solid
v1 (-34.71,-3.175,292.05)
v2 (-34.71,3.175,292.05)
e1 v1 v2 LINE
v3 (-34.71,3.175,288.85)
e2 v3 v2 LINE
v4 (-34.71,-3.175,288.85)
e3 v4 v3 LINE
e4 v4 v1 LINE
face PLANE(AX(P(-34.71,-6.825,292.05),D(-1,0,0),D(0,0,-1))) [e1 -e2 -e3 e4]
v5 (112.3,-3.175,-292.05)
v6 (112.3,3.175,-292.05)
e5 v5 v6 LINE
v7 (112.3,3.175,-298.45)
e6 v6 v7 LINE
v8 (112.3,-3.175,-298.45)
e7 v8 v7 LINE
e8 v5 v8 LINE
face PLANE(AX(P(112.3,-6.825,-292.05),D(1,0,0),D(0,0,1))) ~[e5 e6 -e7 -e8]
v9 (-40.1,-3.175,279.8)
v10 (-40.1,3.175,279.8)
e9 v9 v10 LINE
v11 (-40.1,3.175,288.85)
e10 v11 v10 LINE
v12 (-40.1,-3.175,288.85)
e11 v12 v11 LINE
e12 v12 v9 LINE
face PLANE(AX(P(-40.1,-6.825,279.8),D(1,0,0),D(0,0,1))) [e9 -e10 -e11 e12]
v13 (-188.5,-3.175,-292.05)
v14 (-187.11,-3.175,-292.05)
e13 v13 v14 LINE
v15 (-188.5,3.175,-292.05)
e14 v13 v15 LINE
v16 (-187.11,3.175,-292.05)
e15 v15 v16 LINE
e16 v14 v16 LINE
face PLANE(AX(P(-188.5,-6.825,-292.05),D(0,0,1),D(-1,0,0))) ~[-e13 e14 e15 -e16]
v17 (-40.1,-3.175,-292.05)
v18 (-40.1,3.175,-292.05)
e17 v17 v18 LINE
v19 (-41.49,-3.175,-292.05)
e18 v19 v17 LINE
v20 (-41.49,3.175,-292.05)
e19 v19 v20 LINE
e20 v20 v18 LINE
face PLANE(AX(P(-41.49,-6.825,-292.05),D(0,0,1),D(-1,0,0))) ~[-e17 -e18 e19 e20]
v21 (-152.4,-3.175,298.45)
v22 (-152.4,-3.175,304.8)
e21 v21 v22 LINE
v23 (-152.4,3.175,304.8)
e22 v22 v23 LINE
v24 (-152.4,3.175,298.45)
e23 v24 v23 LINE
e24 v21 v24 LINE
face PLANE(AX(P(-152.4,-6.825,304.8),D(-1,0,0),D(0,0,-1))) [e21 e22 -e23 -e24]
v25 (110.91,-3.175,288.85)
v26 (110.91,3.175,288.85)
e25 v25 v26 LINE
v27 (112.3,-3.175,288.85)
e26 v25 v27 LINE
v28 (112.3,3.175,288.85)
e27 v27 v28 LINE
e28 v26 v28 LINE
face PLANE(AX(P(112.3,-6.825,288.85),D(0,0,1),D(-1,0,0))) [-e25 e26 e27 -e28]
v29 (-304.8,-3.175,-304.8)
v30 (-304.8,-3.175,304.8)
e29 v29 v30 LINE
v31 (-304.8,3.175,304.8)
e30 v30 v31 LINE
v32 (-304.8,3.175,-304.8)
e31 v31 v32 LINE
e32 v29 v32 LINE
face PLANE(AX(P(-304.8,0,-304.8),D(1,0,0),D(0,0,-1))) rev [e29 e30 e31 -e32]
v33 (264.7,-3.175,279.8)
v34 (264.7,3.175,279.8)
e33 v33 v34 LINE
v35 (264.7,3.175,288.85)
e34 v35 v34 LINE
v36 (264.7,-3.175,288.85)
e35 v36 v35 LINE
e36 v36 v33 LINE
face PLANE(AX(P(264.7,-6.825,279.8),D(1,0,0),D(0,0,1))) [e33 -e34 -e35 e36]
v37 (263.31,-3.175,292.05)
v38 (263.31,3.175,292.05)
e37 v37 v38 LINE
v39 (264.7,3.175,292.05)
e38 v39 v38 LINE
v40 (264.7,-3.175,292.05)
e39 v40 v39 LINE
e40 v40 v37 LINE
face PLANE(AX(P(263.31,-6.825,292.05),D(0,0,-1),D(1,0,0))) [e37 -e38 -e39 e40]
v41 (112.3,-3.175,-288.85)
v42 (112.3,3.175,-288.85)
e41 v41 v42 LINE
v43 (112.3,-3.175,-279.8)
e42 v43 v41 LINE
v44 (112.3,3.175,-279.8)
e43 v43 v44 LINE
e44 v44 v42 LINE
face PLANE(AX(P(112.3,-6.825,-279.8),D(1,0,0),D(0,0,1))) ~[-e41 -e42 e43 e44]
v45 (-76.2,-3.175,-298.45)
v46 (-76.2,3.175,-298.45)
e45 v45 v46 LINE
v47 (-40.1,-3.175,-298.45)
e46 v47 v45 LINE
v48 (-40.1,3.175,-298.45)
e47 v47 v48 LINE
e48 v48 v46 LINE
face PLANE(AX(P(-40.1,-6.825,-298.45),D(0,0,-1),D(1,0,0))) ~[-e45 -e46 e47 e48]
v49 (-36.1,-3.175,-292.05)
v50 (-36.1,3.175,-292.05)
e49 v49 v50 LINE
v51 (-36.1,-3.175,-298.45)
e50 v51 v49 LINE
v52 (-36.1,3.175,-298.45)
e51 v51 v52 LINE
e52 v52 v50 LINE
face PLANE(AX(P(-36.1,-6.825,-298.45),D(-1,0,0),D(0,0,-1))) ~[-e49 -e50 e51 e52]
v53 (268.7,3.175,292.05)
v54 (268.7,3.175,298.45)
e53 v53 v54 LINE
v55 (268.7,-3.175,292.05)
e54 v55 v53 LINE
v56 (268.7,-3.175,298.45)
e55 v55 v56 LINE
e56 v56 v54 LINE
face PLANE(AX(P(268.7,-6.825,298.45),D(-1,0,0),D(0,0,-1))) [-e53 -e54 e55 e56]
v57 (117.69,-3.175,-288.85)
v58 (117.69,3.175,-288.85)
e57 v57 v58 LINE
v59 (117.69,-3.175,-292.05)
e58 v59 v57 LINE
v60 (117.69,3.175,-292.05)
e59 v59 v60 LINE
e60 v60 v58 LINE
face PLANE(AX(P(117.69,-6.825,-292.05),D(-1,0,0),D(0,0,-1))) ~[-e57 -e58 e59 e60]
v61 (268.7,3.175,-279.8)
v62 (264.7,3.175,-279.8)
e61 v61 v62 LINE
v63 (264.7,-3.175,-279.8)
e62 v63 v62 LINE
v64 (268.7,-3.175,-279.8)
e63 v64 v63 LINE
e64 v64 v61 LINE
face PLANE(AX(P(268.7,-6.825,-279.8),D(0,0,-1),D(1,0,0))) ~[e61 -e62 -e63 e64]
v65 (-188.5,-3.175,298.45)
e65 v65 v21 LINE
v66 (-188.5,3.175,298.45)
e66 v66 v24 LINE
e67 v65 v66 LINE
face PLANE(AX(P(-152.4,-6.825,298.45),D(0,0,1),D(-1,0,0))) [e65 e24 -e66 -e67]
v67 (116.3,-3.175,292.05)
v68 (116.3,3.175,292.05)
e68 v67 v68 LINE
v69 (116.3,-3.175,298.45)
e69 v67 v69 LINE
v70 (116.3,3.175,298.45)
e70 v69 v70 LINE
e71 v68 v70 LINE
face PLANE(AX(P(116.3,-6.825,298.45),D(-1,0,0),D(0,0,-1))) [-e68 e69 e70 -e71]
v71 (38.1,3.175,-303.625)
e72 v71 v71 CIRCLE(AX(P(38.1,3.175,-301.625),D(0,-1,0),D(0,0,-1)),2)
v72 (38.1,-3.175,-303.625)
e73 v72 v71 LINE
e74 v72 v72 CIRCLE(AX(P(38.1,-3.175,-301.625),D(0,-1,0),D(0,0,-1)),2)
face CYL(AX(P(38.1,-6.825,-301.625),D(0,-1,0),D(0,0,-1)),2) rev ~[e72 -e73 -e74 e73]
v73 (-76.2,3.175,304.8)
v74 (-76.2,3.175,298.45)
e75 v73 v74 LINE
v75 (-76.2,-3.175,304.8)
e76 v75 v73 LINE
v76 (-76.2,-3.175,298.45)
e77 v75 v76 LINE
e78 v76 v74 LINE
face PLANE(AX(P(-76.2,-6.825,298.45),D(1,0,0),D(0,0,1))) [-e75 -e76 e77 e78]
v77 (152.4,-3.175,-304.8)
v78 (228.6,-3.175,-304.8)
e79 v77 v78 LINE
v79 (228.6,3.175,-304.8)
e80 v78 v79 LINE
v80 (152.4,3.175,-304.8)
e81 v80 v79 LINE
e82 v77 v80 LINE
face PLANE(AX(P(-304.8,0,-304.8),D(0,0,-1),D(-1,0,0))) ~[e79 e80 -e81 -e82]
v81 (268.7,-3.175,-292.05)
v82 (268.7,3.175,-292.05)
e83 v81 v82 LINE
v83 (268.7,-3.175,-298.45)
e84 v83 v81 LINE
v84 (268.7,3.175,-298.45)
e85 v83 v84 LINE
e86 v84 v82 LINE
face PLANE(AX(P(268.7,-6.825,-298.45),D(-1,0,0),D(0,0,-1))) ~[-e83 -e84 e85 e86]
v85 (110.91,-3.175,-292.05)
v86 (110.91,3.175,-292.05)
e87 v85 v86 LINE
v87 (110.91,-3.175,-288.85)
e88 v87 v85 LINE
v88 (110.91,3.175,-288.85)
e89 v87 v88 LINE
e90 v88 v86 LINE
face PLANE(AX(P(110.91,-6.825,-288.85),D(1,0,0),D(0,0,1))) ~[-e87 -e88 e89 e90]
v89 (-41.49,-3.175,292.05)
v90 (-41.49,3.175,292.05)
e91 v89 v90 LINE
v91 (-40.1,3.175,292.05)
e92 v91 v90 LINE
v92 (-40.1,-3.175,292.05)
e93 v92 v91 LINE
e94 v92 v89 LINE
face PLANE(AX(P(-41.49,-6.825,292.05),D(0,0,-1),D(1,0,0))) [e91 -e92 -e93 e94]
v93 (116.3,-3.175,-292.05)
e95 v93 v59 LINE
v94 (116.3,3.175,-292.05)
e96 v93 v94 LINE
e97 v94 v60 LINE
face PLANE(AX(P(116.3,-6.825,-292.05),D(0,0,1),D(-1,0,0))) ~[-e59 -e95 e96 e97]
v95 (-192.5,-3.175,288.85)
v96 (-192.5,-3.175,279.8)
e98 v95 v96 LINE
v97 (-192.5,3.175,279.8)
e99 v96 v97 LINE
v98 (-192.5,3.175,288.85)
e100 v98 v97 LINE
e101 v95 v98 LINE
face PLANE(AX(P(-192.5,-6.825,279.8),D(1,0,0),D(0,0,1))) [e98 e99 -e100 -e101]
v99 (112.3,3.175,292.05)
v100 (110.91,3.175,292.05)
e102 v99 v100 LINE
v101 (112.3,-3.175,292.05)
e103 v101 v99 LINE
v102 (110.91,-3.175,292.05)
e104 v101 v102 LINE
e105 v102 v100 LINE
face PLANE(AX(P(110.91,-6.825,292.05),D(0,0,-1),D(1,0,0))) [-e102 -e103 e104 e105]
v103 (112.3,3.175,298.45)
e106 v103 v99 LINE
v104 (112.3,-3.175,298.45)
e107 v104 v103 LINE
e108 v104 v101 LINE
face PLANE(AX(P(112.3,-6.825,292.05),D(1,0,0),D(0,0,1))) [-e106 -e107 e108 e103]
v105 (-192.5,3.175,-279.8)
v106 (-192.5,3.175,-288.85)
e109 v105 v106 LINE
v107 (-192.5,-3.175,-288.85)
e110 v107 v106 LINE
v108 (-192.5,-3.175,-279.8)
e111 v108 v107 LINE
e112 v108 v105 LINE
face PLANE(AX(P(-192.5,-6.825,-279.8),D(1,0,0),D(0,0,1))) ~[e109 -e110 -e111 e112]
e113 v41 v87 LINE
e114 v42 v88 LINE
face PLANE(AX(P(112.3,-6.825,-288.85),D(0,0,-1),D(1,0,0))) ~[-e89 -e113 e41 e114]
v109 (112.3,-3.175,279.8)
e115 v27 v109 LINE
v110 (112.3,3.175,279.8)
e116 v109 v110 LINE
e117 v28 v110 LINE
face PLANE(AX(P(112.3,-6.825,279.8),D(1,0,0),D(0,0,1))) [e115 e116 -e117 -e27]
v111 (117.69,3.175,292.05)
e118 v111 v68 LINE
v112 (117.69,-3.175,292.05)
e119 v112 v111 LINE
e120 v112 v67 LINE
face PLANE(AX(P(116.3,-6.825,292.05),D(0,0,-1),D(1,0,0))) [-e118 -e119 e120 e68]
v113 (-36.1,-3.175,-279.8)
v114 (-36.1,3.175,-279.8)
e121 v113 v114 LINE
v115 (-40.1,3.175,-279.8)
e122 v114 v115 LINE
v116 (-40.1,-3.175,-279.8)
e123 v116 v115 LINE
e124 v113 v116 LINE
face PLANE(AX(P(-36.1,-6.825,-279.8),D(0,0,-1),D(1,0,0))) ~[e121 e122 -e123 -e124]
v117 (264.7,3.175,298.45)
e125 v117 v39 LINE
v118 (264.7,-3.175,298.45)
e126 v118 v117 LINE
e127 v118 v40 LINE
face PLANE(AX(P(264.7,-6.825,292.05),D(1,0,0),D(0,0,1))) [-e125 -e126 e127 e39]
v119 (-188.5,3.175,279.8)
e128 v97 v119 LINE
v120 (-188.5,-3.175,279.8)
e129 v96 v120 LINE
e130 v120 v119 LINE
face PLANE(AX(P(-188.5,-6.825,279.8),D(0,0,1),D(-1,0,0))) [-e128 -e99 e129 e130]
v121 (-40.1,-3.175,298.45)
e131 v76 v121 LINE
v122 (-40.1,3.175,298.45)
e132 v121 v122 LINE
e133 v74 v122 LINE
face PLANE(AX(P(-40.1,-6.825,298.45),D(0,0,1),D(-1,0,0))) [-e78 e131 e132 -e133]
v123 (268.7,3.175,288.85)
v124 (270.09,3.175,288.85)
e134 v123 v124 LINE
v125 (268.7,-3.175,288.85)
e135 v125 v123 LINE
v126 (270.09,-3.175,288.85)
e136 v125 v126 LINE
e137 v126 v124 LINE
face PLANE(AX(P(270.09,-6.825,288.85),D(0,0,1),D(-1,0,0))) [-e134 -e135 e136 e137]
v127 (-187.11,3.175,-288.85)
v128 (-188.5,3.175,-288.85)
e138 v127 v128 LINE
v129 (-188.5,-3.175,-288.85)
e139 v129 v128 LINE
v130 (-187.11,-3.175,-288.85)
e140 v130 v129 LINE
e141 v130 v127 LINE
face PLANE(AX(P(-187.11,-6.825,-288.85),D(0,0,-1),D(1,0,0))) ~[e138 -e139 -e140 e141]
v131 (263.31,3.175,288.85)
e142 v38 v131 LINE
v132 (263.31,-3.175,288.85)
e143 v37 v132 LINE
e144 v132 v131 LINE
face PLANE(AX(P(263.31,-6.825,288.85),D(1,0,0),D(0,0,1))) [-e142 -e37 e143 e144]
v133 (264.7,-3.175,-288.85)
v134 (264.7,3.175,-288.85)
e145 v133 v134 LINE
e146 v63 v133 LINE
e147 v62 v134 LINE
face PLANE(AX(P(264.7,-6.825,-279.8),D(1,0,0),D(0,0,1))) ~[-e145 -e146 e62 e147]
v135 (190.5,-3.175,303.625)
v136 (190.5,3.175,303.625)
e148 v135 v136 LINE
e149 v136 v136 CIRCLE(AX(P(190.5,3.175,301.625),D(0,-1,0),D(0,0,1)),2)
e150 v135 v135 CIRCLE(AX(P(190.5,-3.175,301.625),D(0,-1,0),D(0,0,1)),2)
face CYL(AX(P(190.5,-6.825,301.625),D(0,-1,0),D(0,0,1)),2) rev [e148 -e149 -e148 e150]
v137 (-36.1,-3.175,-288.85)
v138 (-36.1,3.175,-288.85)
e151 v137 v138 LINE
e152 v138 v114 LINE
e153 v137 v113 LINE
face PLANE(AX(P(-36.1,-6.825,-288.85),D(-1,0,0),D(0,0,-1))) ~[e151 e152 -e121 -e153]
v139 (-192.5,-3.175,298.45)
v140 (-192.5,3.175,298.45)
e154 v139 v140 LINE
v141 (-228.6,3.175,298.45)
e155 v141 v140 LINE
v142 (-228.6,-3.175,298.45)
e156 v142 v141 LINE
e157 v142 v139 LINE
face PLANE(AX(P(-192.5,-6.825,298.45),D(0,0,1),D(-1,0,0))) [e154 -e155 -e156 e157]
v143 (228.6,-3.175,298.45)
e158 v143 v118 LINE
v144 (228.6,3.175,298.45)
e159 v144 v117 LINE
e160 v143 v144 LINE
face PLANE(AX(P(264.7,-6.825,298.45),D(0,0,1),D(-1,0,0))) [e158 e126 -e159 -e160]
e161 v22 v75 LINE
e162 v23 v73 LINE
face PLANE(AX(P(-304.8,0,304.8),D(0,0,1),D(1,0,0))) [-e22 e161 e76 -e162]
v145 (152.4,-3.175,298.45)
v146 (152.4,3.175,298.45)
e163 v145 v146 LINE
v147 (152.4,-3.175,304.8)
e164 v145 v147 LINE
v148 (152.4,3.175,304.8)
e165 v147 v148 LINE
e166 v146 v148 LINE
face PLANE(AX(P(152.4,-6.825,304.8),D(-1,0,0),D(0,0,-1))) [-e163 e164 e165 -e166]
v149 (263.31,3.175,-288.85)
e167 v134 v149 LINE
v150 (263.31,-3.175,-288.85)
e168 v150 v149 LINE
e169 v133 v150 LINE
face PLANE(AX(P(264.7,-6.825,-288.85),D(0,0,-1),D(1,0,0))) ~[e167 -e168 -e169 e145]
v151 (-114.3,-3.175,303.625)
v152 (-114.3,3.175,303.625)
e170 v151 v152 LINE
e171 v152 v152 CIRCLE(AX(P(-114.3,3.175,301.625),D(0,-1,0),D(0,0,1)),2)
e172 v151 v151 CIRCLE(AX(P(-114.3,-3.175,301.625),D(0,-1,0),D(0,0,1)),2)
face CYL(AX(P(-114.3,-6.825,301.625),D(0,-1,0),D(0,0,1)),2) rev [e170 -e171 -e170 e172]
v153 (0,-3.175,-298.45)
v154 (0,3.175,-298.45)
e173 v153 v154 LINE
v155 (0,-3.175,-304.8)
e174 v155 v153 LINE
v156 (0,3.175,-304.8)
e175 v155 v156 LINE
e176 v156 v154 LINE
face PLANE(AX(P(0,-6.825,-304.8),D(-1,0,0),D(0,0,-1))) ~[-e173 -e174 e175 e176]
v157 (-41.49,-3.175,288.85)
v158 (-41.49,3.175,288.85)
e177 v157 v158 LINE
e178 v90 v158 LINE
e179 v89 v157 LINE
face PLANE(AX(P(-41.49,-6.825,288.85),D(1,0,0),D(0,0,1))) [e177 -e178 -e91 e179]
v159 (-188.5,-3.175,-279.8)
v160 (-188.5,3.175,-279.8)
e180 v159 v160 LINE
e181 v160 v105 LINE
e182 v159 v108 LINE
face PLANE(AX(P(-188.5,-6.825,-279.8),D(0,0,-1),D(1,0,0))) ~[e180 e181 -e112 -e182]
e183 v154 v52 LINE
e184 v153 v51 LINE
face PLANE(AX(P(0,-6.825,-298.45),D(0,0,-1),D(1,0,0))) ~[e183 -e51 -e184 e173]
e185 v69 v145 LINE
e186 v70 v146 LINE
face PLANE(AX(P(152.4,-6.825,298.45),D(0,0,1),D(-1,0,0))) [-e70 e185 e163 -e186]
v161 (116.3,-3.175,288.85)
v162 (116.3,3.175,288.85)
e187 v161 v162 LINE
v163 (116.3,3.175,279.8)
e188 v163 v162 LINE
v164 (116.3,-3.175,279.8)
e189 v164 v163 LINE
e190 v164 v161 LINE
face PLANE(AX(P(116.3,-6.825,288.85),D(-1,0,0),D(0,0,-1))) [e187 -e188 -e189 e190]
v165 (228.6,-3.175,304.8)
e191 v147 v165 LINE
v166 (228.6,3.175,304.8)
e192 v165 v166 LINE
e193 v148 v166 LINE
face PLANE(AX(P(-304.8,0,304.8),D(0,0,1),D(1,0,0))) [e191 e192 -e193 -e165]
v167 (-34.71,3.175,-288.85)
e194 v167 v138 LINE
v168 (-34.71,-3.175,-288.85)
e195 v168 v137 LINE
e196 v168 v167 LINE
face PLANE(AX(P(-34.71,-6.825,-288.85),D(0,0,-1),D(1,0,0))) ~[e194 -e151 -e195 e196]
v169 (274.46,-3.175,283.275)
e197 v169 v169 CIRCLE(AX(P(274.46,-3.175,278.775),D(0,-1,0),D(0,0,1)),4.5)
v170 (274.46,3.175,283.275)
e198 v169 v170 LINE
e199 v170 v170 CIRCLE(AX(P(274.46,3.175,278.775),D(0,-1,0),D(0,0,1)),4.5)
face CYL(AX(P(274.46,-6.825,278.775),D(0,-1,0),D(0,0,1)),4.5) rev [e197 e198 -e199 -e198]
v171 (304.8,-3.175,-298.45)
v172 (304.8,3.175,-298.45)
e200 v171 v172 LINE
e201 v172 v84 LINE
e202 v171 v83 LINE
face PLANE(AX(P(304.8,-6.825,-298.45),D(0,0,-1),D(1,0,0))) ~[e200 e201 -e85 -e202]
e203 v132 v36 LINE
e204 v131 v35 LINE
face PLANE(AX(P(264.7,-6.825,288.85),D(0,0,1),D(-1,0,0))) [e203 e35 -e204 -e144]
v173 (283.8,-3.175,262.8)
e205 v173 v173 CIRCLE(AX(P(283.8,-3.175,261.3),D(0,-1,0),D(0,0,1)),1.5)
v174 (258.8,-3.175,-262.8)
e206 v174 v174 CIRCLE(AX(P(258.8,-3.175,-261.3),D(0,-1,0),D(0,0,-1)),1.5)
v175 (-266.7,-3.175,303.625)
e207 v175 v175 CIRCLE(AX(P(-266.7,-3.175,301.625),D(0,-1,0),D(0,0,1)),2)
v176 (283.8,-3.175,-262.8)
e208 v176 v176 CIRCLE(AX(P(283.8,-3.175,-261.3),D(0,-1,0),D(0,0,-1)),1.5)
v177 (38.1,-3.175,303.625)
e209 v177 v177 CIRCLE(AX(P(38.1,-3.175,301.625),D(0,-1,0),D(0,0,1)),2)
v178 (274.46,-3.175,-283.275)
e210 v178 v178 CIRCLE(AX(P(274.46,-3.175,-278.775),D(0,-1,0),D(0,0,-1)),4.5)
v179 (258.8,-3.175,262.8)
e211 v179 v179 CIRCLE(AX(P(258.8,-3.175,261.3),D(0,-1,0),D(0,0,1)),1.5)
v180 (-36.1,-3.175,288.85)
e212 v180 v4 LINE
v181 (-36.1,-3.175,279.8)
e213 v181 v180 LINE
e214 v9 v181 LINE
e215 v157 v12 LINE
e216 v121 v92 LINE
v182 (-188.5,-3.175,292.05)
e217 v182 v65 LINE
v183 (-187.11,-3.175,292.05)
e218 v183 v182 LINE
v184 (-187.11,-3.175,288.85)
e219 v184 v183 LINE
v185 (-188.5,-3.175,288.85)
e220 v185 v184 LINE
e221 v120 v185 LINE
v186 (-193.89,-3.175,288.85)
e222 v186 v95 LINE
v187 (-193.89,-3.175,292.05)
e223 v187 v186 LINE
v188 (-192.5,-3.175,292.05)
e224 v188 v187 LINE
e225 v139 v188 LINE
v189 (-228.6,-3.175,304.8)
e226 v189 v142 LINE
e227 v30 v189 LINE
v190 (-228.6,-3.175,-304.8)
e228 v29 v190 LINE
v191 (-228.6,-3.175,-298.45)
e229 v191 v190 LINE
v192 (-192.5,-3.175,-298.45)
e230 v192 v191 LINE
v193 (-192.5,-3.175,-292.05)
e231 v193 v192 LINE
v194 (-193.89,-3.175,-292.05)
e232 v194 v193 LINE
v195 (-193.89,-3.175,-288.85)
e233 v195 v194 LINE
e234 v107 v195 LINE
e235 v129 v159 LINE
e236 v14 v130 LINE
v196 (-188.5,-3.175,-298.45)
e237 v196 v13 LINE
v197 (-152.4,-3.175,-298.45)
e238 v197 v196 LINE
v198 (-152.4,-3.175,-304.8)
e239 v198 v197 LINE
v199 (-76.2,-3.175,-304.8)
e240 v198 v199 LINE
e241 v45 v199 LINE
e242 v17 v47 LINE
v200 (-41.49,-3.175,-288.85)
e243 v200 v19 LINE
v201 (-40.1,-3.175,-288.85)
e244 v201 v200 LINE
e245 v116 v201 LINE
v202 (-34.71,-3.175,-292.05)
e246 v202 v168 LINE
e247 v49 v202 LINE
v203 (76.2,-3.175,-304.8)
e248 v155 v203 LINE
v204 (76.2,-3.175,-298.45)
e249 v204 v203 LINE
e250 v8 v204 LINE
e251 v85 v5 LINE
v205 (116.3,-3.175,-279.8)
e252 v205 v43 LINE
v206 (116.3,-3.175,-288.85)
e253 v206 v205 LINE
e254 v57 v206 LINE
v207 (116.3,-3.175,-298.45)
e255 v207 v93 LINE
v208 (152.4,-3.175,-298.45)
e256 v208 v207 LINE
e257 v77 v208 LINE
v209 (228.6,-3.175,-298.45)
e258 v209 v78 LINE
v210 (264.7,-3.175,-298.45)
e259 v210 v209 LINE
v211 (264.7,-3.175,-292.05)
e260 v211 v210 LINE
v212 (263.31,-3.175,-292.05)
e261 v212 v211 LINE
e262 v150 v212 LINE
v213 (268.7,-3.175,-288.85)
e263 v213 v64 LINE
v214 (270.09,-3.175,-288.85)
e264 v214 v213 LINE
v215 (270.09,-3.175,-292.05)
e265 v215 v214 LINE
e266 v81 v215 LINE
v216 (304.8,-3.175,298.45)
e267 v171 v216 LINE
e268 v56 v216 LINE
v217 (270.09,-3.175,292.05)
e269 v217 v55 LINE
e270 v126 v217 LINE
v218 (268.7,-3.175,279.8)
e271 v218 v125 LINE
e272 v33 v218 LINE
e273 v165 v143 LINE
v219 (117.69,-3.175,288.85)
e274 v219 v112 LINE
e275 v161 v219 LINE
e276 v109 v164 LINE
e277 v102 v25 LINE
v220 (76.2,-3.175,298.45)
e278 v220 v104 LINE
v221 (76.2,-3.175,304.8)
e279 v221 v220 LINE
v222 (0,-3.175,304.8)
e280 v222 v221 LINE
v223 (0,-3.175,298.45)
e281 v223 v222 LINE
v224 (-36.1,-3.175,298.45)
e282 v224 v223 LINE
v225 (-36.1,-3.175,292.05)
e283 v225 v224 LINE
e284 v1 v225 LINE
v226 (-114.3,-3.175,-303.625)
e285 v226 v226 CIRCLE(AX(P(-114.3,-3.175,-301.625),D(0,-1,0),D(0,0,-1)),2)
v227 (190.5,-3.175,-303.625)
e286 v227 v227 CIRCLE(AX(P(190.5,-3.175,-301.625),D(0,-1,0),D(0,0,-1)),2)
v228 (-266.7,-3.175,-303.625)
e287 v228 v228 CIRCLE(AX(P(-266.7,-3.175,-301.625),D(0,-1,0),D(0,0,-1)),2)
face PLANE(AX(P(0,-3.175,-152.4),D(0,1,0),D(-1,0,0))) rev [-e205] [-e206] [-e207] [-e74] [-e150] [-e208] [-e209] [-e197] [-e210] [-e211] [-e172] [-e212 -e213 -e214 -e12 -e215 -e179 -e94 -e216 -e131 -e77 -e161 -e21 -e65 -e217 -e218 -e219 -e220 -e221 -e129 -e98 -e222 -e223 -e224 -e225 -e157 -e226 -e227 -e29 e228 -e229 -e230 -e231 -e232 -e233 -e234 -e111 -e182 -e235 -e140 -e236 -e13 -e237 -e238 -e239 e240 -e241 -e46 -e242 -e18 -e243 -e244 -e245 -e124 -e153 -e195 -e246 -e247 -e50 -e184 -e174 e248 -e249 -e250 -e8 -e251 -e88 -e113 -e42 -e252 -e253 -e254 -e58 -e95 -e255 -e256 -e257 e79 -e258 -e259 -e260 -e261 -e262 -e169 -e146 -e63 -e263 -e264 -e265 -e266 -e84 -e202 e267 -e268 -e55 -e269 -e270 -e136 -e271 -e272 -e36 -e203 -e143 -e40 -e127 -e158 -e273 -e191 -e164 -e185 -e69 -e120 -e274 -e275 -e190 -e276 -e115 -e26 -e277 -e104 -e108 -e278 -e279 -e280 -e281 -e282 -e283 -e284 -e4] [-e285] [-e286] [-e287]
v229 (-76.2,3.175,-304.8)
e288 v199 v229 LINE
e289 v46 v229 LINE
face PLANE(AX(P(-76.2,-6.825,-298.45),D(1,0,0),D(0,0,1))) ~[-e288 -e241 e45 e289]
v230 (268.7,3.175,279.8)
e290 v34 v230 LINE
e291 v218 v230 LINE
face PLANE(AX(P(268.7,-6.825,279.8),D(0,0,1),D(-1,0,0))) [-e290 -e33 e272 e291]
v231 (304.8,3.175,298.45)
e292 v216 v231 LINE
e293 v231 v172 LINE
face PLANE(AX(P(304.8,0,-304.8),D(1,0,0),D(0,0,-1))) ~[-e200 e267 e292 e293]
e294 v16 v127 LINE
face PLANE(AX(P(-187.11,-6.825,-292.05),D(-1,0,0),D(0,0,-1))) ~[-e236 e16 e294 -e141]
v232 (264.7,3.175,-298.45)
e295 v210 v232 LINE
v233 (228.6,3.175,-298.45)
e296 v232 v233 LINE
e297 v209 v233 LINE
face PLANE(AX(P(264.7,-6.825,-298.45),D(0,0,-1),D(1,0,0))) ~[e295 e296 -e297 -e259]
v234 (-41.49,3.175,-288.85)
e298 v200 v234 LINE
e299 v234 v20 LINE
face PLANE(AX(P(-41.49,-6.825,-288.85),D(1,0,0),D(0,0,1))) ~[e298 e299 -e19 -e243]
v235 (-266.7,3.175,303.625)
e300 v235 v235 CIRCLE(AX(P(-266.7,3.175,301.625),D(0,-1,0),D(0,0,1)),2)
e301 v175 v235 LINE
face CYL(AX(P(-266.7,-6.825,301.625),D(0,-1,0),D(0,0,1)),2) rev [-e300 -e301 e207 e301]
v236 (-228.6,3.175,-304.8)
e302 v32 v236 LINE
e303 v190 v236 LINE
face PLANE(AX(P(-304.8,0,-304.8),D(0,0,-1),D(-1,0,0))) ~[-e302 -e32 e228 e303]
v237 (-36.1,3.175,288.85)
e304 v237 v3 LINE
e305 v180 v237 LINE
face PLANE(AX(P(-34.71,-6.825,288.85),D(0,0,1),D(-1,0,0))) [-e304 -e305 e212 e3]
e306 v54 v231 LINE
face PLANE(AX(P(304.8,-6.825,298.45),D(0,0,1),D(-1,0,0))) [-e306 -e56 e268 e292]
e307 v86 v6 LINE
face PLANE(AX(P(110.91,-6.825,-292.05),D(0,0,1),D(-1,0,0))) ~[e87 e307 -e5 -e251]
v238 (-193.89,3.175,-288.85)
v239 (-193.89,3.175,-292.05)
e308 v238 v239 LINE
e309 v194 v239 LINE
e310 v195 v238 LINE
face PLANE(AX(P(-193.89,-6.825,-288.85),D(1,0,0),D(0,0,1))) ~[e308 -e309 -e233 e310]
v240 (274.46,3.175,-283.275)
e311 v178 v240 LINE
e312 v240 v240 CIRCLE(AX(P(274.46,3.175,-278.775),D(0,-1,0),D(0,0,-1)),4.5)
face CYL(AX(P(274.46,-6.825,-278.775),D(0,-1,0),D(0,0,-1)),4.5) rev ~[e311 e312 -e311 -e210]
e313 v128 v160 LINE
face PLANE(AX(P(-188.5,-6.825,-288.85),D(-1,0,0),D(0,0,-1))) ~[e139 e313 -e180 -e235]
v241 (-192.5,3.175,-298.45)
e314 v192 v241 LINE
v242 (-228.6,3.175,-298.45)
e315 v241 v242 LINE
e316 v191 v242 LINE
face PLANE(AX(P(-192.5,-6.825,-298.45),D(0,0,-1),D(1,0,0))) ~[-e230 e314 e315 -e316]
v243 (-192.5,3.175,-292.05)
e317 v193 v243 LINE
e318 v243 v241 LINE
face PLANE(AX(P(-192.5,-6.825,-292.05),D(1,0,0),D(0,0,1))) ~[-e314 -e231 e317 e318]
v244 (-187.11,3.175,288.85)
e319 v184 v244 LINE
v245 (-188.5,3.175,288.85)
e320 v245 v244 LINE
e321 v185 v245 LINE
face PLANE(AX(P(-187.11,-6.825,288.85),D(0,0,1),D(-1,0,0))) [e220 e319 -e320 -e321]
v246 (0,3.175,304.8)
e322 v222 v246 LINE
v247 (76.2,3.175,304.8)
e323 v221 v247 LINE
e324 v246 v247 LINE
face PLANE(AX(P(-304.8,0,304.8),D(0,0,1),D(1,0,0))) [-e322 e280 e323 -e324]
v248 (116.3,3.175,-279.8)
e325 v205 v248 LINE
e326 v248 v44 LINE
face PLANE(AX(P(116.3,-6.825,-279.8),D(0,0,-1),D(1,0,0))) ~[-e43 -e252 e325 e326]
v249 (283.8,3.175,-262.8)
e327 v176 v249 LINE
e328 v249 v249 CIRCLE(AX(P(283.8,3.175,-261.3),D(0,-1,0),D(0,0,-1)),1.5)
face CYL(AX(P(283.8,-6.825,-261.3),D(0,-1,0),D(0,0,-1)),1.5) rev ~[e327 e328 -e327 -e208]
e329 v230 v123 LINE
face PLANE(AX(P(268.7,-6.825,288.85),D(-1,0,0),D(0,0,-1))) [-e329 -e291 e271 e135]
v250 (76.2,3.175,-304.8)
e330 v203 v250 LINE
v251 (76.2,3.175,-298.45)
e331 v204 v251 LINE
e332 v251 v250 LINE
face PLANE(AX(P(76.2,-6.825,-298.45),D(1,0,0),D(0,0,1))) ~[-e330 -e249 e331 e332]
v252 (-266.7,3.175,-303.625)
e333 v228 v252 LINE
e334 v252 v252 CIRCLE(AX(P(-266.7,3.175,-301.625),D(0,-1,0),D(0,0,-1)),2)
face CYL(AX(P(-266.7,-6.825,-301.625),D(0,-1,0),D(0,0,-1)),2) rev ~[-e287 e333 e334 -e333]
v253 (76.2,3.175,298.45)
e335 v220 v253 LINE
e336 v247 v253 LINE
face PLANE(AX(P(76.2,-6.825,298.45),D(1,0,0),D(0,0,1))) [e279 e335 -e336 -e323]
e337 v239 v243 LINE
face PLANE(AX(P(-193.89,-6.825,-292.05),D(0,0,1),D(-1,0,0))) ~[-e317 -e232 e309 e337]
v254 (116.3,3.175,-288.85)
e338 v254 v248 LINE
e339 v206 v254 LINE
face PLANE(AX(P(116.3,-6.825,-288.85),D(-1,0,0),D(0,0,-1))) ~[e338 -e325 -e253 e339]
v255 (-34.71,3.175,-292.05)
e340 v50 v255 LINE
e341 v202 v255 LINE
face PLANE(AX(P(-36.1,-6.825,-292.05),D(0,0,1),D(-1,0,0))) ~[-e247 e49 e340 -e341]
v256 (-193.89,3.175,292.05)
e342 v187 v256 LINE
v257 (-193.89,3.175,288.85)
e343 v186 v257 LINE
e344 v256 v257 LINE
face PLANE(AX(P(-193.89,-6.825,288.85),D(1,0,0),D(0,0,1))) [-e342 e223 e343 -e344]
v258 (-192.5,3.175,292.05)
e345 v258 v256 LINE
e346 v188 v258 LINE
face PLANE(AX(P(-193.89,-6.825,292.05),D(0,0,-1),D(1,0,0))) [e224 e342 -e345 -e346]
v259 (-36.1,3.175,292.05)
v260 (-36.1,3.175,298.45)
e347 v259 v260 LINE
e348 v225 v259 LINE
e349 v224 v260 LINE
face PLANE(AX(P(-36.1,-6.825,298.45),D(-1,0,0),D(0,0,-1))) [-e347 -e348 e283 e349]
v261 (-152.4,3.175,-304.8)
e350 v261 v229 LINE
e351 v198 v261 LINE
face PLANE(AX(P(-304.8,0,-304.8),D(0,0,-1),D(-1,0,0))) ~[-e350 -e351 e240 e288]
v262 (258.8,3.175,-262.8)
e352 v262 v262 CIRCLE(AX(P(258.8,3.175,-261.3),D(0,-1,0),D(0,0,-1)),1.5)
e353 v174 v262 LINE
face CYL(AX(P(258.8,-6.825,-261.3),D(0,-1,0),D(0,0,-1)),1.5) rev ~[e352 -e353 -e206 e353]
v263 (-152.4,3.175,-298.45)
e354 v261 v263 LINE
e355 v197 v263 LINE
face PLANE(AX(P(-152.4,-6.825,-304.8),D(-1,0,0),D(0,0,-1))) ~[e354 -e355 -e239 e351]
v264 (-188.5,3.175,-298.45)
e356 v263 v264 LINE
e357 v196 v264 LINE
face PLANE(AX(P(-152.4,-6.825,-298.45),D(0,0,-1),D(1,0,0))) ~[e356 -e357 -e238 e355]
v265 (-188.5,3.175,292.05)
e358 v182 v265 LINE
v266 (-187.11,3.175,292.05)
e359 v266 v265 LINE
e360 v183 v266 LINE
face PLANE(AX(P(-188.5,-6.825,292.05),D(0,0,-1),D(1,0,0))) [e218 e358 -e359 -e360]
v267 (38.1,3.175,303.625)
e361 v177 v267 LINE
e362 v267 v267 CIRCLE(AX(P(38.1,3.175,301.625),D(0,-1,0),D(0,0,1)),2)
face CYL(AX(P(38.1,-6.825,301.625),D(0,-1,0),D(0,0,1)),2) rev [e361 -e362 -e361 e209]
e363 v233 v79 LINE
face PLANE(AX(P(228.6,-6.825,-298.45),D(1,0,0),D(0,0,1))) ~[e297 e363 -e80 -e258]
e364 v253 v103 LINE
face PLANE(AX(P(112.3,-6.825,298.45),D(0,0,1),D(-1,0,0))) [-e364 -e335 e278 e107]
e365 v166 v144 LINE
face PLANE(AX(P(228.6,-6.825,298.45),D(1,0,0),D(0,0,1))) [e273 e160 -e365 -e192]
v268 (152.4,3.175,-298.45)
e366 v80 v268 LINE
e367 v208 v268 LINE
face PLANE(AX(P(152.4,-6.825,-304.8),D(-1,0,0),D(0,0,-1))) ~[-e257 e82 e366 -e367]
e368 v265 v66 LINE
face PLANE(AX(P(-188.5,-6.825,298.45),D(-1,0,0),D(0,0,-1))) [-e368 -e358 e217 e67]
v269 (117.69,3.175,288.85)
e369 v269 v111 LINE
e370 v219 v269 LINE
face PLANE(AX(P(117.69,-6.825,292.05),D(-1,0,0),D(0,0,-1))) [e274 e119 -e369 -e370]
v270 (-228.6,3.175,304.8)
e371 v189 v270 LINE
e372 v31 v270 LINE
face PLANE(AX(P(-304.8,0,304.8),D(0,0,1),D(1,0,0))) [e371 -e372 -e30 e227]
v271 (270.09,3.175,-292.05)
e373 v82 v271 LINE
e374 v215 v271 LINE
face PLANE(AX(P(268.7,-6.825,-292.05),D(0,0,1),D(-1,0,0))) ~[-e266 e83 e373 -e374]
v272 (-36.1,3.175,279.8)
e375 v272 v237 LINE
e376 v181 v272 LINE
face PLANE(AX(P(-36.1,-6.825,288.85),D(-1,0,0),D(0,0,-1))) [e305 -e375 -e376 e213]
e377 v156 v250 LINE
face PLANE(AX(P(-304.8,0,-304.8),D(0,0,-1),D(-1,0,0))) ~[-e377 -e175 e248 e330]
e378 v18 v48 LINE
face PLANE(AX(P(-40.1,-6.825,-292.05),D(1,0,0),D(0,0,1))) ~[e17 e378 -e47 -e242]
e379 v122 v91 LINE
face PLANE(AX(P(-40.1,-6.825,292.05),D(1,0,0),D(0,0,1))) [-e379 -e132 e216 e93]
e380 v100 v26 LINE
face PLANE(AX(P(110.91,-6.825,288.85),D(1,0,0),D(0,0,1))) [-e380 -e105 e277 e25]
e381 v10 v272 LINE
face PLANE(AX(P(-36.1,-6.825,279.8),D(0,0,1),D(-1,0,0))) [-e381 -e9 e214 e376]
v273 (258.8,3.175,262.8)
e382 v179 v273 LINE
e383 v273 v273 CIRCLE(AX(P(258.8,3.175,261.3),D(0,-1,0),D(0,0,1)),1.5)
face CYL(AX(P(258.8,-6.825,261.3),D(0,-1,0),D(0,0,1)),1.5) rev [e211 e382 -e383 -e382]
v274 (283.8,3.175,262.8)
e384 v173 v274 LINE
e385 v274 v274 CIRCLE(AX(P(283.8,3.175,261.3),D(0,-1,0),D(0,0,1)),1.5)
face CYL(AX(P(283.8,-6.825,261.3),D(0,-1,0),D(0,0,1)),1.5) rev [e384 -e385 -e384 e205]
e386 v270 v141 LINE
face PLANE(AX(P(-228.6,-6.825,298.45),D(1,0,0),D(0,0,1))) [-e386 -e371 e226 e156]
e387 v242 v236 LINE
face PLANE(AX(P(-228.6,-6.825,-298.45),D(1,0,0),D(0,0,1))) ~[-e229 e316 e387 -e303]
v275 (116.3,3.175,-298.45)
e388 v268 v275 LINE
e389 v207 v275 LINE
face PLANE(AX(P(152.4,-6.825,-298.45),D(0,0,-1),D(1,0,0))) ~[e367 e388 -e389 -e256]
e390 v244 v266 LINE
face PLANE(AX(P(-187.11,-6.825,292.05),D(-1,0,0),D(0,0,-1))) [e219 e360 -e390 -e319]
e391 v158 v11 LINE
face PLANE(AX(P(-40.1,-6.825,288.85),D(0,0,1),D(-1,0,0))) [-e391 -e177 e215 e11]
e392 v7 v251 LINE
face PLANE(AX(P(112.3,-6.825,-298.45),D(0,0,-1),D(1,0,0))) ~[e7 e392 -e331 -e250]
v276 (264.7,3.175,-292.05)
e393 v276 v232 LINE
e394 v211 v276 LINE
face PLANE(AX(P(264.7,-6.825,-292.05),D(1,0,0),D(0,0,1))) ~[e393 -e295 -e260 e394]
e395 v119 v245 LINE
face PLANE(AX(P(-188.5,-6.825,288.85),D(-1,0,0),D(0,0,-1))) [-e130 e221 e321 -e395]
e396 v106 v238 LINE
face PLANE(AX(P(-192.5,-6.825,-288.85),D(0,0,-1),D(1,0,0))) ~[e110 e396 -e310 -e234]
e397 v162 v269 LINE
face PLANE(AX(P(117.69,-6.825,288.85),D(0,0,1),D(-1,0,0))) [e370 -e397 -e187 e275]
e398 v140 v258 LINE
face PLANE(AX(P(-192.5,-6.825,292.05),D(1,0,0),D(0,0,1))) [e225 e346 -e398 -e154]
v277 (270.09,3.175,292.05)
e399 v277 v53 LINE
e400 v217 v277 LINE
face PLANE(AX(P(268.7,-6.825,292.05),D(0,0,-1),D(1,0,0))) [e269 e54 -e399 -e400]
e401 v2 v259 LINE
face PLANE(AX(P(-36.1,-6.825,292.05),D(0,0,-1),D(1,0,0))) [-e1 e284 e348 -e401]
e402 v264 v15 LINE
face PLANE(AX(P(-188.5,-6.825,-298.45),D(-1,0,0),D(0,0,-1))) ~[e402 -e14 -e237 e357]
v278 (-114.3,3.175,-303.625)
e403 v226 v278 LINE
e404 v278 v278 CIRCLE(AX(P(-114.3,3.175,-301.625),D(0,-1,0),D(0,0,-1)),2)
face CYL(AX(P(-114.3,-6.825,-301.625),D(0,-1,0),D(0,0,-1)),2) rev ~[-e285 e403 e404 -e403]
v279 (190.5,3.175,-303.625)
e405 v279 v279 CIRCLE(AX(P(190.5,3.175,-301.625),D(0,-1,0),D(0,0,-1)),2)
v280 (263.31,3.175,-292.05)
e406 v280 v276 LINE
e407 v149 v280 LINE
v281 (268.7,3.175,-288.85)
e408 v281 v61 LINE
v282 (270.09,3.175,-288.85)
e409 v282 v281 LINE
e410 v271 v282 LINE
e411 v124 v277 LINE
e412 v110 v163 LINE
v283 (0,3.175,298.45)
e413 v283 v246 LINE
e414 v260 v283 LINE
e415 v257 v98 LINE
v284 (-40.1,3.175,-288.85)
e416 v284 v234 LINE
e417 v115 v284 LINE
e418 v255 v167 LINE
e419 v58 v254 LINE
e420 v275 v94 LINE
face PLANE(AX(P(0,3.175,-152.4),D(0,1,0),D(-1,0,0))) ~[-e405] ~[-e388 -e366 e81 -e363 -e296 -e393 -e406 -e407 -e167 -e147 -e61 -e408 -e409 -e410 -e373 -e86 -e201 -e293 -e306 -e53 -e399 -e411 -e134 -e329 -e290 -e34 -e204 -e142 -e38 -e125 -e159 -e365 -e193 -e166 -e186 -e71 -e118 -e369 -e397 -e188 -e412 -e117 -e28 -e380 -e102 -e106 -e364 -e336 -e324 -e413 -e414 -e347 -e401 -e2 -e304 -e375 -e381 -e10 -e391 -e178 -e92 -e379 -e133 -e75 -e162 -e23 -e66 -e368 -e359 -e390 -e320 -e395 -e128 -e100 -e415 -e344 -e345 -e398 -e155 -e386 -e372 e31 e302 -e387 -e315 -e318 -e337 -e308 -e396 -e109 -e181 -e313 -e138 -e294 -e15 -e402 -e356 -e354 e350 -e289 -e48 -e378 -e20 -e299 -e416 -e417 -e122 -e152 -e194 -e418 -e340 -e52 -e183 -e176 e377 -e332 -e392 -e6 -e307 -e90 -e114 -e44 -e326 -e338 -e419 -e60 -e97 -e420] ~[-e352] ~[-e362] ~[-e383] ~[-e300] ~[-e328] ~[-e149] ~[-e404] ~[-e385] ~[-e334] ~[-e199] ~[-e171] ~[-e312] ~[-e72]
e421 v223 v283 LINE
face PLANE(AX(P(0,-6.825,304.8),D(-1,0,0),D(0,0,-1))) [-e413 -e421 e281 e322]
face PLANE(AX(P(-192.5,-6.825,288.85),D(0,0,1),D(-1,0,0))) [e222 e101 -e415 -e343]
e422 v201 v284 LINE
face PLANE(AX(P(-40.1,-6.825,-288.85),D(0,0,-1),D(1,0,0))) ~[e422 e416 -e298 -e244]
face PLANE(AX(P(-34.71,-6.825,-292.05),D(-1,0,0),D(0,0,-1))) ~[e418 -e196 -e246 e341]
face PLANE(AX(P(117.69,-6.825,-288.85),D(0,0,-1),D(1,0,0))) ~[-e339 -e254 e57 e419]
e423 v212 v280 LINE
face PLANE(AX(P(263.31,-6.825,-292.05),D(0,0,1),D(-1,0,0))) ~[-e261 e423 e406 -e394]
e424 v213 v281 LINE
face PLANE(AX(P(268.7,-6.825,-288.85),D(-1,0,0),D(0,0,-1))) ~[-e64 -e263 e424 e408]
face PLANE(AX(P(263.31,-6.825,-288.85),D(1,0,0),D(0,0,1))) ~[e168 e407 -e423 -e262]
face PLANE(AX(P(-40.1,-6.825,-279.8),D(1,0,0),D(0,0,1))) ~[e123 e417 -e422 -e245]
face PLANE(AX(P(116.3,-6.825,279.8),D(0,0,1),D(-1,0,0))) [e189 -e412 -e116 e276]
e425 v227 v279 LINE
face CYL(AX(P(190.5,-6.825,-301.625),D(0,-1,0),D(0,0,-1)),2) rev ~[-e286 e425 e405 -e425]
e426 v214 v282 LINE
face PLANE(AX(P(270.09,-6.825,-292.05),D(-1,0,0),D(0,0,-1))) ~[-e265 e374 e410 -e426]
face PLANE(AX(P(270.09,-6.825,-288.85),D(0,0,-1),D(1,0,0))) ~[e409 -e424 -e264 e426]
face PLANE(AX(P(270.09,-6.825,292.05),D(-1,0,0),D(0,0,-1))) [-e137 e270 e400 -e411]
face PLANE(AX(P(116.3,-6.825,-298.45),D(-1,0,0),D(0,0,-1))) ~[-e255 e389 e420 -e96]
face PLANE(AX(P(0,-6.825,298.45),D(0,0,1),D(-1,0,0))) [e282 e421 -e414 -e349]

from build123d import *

# Parameters (mm, degrees)
SKETCH1_W           = 609.6
SKETCH1_H           = 304.8
BOSS_EXTRUDE1_DEPTH = 3.175
CUT_EXTRUDE1_START  = -10
SKETCH2_R           = 2
SKETCH2_R_2         = 4.5
SKETCH2_R_3         = 1.5
CUT_EXTRUDE1_DEPTH  = 12.54


with BuildPart() as part:
    # Sketch1 → Boss-Extrude1 (new, symmetric)
    with BuildSketch(Plane(origin=(0, 0, 0), x_dir=(1, 0, 0), z_dir=(0, 1, 0))):
        with Locations((0, -152.4)):
            Rectangle(SKETCH1_W, SKETCH1_H)
    boss_extrude1 = extrude(amount=BOSS_EXTRUDE1_DEPTH, both=True)

    # Sketch2 → Cut-Extrude1 (cut)
    with BuildSketch(Plane(origin=(0, 3.175, 0), x_dir=(1, 0, 0), z_dir=(0, 1, 0)).offset(CUT_EXTRUDE1_START)):
        with Locations(Location((-266.7, -301.625, 0), (0, 0, 270))):
            Circle(SKETCH2_R)
        Polygon((-228.6, -298.45), (-228.6, -304.8), (-152.4, -304.8), (-152.4, -298.45), (-188.5, -298.45), (-192.5, -298.45), align=None)
        Polygon((-192.5, -292.05), (-192.5, -298.45), (-188.5, -298.45), (-188.5, -292.05), (-187.11, -292.05), (-187.11, -288.85), (-188.5, -288.85), (-188.5, -279.8), (-192.5, -279.8), (-192.5, -288.85), (-193.89, -288.85), (-193.89, -292.05), align=None)
        with Locations(Location((-114.3, -301.625, 0), (0, 0, 270))):
            Circle(SKETCH2_R)
        Polygon((-76.2, -298.45), (-76.2, -304.8), (0, -304.8), (0, -298.45), (-36.1, -298.45), (-40.1, -298.45), align=None)
        Polygon((-40.1, -292.05), (-40.1, -298.45), (-36.1, -298.45), (-36.1, -292.05), (-34.71, -292.05), (-34.71, -288.85), (-36.1, -288.85), (-36.1, -279.8), (-40.1, -279.8), (-40.1, -288.85), (-41.49, -288.85), (-41.49, -292.05), align=None)
        with Locations(Location((38.1, -301.625, 0), (0, 0, 270))):
            Circle(SKETCH2_R)
        Polygon((76.2, -298.45), (76.2, -304.8), (152.4, -304.8), (152.4, -298.45), (116.3, -298.45), (112.3, -298.45), align=None)
        Polygon((112.3, -292.05), (112.3, -298.45), (116.3, -298.45), (116.3, -292.05), (117.69, -292.05), (117.69, -288.85), (116.3, -288.85), (116.3, -279.8), (112.3, -279.8), (112.3, -288.85), (110.91, -288.85), (110.91, -292.05), align=None)
        with Locations(Location((190.5, -301.625, 0), (0, 0, 270))):
            Circle(SKETCH2_R)
        Polygon((228.6, -298.45), (228.6, -304.8), (304.8, -304.8), (304.8, -298.45), (268.7, -298.45), (264.7, -298.45), align=None)
        Polygon((264.7, -292.05), (264.7, -298.45), (268.7, -298.45), (268.7, -292.05), (270.09, -292.05), (270.09, -288.85), (268.7, -288.85), (268.7, -279.8), (264.7, -279.8), (264.7, -288.85), (263.31, -288.85), (263.31, -292.05), align=None)
        with Locations(Location((274.46, -278.775, 0), (0, 0, 270))):
            Circle(SKETCH2_R_2)
        with Locations(Location((283.8, -261.3, 0), (0, 0, 270))):
            Circle(SKETCH2_R_3)
        with Locations(Location((258.8, -261.3, 0), (0, 0, 270))):
            Circle(SKETCH2_R_3)
    cut_extrude1 = extrude(amount=CUT_EXTRUDE1_DEPTH, mode=Mode.SUBTRACT)

    # Mirror1: Boss-Extrude1, Cut-Extrude1 across plane
    add(boss_extrude1.mirror(Plane(origin=(0, 3.175, 0), x_dir=(1, 0, 0), z_dir=(0, 0, -1))))
    add(cut_extrude1.mirror(Plane(origin=(0, 3.175, 0), x_dir=(1, 0, 0), z_dir=(0, 0, -1))), mode=Mode.SUBTRACT)


solid = part.part
